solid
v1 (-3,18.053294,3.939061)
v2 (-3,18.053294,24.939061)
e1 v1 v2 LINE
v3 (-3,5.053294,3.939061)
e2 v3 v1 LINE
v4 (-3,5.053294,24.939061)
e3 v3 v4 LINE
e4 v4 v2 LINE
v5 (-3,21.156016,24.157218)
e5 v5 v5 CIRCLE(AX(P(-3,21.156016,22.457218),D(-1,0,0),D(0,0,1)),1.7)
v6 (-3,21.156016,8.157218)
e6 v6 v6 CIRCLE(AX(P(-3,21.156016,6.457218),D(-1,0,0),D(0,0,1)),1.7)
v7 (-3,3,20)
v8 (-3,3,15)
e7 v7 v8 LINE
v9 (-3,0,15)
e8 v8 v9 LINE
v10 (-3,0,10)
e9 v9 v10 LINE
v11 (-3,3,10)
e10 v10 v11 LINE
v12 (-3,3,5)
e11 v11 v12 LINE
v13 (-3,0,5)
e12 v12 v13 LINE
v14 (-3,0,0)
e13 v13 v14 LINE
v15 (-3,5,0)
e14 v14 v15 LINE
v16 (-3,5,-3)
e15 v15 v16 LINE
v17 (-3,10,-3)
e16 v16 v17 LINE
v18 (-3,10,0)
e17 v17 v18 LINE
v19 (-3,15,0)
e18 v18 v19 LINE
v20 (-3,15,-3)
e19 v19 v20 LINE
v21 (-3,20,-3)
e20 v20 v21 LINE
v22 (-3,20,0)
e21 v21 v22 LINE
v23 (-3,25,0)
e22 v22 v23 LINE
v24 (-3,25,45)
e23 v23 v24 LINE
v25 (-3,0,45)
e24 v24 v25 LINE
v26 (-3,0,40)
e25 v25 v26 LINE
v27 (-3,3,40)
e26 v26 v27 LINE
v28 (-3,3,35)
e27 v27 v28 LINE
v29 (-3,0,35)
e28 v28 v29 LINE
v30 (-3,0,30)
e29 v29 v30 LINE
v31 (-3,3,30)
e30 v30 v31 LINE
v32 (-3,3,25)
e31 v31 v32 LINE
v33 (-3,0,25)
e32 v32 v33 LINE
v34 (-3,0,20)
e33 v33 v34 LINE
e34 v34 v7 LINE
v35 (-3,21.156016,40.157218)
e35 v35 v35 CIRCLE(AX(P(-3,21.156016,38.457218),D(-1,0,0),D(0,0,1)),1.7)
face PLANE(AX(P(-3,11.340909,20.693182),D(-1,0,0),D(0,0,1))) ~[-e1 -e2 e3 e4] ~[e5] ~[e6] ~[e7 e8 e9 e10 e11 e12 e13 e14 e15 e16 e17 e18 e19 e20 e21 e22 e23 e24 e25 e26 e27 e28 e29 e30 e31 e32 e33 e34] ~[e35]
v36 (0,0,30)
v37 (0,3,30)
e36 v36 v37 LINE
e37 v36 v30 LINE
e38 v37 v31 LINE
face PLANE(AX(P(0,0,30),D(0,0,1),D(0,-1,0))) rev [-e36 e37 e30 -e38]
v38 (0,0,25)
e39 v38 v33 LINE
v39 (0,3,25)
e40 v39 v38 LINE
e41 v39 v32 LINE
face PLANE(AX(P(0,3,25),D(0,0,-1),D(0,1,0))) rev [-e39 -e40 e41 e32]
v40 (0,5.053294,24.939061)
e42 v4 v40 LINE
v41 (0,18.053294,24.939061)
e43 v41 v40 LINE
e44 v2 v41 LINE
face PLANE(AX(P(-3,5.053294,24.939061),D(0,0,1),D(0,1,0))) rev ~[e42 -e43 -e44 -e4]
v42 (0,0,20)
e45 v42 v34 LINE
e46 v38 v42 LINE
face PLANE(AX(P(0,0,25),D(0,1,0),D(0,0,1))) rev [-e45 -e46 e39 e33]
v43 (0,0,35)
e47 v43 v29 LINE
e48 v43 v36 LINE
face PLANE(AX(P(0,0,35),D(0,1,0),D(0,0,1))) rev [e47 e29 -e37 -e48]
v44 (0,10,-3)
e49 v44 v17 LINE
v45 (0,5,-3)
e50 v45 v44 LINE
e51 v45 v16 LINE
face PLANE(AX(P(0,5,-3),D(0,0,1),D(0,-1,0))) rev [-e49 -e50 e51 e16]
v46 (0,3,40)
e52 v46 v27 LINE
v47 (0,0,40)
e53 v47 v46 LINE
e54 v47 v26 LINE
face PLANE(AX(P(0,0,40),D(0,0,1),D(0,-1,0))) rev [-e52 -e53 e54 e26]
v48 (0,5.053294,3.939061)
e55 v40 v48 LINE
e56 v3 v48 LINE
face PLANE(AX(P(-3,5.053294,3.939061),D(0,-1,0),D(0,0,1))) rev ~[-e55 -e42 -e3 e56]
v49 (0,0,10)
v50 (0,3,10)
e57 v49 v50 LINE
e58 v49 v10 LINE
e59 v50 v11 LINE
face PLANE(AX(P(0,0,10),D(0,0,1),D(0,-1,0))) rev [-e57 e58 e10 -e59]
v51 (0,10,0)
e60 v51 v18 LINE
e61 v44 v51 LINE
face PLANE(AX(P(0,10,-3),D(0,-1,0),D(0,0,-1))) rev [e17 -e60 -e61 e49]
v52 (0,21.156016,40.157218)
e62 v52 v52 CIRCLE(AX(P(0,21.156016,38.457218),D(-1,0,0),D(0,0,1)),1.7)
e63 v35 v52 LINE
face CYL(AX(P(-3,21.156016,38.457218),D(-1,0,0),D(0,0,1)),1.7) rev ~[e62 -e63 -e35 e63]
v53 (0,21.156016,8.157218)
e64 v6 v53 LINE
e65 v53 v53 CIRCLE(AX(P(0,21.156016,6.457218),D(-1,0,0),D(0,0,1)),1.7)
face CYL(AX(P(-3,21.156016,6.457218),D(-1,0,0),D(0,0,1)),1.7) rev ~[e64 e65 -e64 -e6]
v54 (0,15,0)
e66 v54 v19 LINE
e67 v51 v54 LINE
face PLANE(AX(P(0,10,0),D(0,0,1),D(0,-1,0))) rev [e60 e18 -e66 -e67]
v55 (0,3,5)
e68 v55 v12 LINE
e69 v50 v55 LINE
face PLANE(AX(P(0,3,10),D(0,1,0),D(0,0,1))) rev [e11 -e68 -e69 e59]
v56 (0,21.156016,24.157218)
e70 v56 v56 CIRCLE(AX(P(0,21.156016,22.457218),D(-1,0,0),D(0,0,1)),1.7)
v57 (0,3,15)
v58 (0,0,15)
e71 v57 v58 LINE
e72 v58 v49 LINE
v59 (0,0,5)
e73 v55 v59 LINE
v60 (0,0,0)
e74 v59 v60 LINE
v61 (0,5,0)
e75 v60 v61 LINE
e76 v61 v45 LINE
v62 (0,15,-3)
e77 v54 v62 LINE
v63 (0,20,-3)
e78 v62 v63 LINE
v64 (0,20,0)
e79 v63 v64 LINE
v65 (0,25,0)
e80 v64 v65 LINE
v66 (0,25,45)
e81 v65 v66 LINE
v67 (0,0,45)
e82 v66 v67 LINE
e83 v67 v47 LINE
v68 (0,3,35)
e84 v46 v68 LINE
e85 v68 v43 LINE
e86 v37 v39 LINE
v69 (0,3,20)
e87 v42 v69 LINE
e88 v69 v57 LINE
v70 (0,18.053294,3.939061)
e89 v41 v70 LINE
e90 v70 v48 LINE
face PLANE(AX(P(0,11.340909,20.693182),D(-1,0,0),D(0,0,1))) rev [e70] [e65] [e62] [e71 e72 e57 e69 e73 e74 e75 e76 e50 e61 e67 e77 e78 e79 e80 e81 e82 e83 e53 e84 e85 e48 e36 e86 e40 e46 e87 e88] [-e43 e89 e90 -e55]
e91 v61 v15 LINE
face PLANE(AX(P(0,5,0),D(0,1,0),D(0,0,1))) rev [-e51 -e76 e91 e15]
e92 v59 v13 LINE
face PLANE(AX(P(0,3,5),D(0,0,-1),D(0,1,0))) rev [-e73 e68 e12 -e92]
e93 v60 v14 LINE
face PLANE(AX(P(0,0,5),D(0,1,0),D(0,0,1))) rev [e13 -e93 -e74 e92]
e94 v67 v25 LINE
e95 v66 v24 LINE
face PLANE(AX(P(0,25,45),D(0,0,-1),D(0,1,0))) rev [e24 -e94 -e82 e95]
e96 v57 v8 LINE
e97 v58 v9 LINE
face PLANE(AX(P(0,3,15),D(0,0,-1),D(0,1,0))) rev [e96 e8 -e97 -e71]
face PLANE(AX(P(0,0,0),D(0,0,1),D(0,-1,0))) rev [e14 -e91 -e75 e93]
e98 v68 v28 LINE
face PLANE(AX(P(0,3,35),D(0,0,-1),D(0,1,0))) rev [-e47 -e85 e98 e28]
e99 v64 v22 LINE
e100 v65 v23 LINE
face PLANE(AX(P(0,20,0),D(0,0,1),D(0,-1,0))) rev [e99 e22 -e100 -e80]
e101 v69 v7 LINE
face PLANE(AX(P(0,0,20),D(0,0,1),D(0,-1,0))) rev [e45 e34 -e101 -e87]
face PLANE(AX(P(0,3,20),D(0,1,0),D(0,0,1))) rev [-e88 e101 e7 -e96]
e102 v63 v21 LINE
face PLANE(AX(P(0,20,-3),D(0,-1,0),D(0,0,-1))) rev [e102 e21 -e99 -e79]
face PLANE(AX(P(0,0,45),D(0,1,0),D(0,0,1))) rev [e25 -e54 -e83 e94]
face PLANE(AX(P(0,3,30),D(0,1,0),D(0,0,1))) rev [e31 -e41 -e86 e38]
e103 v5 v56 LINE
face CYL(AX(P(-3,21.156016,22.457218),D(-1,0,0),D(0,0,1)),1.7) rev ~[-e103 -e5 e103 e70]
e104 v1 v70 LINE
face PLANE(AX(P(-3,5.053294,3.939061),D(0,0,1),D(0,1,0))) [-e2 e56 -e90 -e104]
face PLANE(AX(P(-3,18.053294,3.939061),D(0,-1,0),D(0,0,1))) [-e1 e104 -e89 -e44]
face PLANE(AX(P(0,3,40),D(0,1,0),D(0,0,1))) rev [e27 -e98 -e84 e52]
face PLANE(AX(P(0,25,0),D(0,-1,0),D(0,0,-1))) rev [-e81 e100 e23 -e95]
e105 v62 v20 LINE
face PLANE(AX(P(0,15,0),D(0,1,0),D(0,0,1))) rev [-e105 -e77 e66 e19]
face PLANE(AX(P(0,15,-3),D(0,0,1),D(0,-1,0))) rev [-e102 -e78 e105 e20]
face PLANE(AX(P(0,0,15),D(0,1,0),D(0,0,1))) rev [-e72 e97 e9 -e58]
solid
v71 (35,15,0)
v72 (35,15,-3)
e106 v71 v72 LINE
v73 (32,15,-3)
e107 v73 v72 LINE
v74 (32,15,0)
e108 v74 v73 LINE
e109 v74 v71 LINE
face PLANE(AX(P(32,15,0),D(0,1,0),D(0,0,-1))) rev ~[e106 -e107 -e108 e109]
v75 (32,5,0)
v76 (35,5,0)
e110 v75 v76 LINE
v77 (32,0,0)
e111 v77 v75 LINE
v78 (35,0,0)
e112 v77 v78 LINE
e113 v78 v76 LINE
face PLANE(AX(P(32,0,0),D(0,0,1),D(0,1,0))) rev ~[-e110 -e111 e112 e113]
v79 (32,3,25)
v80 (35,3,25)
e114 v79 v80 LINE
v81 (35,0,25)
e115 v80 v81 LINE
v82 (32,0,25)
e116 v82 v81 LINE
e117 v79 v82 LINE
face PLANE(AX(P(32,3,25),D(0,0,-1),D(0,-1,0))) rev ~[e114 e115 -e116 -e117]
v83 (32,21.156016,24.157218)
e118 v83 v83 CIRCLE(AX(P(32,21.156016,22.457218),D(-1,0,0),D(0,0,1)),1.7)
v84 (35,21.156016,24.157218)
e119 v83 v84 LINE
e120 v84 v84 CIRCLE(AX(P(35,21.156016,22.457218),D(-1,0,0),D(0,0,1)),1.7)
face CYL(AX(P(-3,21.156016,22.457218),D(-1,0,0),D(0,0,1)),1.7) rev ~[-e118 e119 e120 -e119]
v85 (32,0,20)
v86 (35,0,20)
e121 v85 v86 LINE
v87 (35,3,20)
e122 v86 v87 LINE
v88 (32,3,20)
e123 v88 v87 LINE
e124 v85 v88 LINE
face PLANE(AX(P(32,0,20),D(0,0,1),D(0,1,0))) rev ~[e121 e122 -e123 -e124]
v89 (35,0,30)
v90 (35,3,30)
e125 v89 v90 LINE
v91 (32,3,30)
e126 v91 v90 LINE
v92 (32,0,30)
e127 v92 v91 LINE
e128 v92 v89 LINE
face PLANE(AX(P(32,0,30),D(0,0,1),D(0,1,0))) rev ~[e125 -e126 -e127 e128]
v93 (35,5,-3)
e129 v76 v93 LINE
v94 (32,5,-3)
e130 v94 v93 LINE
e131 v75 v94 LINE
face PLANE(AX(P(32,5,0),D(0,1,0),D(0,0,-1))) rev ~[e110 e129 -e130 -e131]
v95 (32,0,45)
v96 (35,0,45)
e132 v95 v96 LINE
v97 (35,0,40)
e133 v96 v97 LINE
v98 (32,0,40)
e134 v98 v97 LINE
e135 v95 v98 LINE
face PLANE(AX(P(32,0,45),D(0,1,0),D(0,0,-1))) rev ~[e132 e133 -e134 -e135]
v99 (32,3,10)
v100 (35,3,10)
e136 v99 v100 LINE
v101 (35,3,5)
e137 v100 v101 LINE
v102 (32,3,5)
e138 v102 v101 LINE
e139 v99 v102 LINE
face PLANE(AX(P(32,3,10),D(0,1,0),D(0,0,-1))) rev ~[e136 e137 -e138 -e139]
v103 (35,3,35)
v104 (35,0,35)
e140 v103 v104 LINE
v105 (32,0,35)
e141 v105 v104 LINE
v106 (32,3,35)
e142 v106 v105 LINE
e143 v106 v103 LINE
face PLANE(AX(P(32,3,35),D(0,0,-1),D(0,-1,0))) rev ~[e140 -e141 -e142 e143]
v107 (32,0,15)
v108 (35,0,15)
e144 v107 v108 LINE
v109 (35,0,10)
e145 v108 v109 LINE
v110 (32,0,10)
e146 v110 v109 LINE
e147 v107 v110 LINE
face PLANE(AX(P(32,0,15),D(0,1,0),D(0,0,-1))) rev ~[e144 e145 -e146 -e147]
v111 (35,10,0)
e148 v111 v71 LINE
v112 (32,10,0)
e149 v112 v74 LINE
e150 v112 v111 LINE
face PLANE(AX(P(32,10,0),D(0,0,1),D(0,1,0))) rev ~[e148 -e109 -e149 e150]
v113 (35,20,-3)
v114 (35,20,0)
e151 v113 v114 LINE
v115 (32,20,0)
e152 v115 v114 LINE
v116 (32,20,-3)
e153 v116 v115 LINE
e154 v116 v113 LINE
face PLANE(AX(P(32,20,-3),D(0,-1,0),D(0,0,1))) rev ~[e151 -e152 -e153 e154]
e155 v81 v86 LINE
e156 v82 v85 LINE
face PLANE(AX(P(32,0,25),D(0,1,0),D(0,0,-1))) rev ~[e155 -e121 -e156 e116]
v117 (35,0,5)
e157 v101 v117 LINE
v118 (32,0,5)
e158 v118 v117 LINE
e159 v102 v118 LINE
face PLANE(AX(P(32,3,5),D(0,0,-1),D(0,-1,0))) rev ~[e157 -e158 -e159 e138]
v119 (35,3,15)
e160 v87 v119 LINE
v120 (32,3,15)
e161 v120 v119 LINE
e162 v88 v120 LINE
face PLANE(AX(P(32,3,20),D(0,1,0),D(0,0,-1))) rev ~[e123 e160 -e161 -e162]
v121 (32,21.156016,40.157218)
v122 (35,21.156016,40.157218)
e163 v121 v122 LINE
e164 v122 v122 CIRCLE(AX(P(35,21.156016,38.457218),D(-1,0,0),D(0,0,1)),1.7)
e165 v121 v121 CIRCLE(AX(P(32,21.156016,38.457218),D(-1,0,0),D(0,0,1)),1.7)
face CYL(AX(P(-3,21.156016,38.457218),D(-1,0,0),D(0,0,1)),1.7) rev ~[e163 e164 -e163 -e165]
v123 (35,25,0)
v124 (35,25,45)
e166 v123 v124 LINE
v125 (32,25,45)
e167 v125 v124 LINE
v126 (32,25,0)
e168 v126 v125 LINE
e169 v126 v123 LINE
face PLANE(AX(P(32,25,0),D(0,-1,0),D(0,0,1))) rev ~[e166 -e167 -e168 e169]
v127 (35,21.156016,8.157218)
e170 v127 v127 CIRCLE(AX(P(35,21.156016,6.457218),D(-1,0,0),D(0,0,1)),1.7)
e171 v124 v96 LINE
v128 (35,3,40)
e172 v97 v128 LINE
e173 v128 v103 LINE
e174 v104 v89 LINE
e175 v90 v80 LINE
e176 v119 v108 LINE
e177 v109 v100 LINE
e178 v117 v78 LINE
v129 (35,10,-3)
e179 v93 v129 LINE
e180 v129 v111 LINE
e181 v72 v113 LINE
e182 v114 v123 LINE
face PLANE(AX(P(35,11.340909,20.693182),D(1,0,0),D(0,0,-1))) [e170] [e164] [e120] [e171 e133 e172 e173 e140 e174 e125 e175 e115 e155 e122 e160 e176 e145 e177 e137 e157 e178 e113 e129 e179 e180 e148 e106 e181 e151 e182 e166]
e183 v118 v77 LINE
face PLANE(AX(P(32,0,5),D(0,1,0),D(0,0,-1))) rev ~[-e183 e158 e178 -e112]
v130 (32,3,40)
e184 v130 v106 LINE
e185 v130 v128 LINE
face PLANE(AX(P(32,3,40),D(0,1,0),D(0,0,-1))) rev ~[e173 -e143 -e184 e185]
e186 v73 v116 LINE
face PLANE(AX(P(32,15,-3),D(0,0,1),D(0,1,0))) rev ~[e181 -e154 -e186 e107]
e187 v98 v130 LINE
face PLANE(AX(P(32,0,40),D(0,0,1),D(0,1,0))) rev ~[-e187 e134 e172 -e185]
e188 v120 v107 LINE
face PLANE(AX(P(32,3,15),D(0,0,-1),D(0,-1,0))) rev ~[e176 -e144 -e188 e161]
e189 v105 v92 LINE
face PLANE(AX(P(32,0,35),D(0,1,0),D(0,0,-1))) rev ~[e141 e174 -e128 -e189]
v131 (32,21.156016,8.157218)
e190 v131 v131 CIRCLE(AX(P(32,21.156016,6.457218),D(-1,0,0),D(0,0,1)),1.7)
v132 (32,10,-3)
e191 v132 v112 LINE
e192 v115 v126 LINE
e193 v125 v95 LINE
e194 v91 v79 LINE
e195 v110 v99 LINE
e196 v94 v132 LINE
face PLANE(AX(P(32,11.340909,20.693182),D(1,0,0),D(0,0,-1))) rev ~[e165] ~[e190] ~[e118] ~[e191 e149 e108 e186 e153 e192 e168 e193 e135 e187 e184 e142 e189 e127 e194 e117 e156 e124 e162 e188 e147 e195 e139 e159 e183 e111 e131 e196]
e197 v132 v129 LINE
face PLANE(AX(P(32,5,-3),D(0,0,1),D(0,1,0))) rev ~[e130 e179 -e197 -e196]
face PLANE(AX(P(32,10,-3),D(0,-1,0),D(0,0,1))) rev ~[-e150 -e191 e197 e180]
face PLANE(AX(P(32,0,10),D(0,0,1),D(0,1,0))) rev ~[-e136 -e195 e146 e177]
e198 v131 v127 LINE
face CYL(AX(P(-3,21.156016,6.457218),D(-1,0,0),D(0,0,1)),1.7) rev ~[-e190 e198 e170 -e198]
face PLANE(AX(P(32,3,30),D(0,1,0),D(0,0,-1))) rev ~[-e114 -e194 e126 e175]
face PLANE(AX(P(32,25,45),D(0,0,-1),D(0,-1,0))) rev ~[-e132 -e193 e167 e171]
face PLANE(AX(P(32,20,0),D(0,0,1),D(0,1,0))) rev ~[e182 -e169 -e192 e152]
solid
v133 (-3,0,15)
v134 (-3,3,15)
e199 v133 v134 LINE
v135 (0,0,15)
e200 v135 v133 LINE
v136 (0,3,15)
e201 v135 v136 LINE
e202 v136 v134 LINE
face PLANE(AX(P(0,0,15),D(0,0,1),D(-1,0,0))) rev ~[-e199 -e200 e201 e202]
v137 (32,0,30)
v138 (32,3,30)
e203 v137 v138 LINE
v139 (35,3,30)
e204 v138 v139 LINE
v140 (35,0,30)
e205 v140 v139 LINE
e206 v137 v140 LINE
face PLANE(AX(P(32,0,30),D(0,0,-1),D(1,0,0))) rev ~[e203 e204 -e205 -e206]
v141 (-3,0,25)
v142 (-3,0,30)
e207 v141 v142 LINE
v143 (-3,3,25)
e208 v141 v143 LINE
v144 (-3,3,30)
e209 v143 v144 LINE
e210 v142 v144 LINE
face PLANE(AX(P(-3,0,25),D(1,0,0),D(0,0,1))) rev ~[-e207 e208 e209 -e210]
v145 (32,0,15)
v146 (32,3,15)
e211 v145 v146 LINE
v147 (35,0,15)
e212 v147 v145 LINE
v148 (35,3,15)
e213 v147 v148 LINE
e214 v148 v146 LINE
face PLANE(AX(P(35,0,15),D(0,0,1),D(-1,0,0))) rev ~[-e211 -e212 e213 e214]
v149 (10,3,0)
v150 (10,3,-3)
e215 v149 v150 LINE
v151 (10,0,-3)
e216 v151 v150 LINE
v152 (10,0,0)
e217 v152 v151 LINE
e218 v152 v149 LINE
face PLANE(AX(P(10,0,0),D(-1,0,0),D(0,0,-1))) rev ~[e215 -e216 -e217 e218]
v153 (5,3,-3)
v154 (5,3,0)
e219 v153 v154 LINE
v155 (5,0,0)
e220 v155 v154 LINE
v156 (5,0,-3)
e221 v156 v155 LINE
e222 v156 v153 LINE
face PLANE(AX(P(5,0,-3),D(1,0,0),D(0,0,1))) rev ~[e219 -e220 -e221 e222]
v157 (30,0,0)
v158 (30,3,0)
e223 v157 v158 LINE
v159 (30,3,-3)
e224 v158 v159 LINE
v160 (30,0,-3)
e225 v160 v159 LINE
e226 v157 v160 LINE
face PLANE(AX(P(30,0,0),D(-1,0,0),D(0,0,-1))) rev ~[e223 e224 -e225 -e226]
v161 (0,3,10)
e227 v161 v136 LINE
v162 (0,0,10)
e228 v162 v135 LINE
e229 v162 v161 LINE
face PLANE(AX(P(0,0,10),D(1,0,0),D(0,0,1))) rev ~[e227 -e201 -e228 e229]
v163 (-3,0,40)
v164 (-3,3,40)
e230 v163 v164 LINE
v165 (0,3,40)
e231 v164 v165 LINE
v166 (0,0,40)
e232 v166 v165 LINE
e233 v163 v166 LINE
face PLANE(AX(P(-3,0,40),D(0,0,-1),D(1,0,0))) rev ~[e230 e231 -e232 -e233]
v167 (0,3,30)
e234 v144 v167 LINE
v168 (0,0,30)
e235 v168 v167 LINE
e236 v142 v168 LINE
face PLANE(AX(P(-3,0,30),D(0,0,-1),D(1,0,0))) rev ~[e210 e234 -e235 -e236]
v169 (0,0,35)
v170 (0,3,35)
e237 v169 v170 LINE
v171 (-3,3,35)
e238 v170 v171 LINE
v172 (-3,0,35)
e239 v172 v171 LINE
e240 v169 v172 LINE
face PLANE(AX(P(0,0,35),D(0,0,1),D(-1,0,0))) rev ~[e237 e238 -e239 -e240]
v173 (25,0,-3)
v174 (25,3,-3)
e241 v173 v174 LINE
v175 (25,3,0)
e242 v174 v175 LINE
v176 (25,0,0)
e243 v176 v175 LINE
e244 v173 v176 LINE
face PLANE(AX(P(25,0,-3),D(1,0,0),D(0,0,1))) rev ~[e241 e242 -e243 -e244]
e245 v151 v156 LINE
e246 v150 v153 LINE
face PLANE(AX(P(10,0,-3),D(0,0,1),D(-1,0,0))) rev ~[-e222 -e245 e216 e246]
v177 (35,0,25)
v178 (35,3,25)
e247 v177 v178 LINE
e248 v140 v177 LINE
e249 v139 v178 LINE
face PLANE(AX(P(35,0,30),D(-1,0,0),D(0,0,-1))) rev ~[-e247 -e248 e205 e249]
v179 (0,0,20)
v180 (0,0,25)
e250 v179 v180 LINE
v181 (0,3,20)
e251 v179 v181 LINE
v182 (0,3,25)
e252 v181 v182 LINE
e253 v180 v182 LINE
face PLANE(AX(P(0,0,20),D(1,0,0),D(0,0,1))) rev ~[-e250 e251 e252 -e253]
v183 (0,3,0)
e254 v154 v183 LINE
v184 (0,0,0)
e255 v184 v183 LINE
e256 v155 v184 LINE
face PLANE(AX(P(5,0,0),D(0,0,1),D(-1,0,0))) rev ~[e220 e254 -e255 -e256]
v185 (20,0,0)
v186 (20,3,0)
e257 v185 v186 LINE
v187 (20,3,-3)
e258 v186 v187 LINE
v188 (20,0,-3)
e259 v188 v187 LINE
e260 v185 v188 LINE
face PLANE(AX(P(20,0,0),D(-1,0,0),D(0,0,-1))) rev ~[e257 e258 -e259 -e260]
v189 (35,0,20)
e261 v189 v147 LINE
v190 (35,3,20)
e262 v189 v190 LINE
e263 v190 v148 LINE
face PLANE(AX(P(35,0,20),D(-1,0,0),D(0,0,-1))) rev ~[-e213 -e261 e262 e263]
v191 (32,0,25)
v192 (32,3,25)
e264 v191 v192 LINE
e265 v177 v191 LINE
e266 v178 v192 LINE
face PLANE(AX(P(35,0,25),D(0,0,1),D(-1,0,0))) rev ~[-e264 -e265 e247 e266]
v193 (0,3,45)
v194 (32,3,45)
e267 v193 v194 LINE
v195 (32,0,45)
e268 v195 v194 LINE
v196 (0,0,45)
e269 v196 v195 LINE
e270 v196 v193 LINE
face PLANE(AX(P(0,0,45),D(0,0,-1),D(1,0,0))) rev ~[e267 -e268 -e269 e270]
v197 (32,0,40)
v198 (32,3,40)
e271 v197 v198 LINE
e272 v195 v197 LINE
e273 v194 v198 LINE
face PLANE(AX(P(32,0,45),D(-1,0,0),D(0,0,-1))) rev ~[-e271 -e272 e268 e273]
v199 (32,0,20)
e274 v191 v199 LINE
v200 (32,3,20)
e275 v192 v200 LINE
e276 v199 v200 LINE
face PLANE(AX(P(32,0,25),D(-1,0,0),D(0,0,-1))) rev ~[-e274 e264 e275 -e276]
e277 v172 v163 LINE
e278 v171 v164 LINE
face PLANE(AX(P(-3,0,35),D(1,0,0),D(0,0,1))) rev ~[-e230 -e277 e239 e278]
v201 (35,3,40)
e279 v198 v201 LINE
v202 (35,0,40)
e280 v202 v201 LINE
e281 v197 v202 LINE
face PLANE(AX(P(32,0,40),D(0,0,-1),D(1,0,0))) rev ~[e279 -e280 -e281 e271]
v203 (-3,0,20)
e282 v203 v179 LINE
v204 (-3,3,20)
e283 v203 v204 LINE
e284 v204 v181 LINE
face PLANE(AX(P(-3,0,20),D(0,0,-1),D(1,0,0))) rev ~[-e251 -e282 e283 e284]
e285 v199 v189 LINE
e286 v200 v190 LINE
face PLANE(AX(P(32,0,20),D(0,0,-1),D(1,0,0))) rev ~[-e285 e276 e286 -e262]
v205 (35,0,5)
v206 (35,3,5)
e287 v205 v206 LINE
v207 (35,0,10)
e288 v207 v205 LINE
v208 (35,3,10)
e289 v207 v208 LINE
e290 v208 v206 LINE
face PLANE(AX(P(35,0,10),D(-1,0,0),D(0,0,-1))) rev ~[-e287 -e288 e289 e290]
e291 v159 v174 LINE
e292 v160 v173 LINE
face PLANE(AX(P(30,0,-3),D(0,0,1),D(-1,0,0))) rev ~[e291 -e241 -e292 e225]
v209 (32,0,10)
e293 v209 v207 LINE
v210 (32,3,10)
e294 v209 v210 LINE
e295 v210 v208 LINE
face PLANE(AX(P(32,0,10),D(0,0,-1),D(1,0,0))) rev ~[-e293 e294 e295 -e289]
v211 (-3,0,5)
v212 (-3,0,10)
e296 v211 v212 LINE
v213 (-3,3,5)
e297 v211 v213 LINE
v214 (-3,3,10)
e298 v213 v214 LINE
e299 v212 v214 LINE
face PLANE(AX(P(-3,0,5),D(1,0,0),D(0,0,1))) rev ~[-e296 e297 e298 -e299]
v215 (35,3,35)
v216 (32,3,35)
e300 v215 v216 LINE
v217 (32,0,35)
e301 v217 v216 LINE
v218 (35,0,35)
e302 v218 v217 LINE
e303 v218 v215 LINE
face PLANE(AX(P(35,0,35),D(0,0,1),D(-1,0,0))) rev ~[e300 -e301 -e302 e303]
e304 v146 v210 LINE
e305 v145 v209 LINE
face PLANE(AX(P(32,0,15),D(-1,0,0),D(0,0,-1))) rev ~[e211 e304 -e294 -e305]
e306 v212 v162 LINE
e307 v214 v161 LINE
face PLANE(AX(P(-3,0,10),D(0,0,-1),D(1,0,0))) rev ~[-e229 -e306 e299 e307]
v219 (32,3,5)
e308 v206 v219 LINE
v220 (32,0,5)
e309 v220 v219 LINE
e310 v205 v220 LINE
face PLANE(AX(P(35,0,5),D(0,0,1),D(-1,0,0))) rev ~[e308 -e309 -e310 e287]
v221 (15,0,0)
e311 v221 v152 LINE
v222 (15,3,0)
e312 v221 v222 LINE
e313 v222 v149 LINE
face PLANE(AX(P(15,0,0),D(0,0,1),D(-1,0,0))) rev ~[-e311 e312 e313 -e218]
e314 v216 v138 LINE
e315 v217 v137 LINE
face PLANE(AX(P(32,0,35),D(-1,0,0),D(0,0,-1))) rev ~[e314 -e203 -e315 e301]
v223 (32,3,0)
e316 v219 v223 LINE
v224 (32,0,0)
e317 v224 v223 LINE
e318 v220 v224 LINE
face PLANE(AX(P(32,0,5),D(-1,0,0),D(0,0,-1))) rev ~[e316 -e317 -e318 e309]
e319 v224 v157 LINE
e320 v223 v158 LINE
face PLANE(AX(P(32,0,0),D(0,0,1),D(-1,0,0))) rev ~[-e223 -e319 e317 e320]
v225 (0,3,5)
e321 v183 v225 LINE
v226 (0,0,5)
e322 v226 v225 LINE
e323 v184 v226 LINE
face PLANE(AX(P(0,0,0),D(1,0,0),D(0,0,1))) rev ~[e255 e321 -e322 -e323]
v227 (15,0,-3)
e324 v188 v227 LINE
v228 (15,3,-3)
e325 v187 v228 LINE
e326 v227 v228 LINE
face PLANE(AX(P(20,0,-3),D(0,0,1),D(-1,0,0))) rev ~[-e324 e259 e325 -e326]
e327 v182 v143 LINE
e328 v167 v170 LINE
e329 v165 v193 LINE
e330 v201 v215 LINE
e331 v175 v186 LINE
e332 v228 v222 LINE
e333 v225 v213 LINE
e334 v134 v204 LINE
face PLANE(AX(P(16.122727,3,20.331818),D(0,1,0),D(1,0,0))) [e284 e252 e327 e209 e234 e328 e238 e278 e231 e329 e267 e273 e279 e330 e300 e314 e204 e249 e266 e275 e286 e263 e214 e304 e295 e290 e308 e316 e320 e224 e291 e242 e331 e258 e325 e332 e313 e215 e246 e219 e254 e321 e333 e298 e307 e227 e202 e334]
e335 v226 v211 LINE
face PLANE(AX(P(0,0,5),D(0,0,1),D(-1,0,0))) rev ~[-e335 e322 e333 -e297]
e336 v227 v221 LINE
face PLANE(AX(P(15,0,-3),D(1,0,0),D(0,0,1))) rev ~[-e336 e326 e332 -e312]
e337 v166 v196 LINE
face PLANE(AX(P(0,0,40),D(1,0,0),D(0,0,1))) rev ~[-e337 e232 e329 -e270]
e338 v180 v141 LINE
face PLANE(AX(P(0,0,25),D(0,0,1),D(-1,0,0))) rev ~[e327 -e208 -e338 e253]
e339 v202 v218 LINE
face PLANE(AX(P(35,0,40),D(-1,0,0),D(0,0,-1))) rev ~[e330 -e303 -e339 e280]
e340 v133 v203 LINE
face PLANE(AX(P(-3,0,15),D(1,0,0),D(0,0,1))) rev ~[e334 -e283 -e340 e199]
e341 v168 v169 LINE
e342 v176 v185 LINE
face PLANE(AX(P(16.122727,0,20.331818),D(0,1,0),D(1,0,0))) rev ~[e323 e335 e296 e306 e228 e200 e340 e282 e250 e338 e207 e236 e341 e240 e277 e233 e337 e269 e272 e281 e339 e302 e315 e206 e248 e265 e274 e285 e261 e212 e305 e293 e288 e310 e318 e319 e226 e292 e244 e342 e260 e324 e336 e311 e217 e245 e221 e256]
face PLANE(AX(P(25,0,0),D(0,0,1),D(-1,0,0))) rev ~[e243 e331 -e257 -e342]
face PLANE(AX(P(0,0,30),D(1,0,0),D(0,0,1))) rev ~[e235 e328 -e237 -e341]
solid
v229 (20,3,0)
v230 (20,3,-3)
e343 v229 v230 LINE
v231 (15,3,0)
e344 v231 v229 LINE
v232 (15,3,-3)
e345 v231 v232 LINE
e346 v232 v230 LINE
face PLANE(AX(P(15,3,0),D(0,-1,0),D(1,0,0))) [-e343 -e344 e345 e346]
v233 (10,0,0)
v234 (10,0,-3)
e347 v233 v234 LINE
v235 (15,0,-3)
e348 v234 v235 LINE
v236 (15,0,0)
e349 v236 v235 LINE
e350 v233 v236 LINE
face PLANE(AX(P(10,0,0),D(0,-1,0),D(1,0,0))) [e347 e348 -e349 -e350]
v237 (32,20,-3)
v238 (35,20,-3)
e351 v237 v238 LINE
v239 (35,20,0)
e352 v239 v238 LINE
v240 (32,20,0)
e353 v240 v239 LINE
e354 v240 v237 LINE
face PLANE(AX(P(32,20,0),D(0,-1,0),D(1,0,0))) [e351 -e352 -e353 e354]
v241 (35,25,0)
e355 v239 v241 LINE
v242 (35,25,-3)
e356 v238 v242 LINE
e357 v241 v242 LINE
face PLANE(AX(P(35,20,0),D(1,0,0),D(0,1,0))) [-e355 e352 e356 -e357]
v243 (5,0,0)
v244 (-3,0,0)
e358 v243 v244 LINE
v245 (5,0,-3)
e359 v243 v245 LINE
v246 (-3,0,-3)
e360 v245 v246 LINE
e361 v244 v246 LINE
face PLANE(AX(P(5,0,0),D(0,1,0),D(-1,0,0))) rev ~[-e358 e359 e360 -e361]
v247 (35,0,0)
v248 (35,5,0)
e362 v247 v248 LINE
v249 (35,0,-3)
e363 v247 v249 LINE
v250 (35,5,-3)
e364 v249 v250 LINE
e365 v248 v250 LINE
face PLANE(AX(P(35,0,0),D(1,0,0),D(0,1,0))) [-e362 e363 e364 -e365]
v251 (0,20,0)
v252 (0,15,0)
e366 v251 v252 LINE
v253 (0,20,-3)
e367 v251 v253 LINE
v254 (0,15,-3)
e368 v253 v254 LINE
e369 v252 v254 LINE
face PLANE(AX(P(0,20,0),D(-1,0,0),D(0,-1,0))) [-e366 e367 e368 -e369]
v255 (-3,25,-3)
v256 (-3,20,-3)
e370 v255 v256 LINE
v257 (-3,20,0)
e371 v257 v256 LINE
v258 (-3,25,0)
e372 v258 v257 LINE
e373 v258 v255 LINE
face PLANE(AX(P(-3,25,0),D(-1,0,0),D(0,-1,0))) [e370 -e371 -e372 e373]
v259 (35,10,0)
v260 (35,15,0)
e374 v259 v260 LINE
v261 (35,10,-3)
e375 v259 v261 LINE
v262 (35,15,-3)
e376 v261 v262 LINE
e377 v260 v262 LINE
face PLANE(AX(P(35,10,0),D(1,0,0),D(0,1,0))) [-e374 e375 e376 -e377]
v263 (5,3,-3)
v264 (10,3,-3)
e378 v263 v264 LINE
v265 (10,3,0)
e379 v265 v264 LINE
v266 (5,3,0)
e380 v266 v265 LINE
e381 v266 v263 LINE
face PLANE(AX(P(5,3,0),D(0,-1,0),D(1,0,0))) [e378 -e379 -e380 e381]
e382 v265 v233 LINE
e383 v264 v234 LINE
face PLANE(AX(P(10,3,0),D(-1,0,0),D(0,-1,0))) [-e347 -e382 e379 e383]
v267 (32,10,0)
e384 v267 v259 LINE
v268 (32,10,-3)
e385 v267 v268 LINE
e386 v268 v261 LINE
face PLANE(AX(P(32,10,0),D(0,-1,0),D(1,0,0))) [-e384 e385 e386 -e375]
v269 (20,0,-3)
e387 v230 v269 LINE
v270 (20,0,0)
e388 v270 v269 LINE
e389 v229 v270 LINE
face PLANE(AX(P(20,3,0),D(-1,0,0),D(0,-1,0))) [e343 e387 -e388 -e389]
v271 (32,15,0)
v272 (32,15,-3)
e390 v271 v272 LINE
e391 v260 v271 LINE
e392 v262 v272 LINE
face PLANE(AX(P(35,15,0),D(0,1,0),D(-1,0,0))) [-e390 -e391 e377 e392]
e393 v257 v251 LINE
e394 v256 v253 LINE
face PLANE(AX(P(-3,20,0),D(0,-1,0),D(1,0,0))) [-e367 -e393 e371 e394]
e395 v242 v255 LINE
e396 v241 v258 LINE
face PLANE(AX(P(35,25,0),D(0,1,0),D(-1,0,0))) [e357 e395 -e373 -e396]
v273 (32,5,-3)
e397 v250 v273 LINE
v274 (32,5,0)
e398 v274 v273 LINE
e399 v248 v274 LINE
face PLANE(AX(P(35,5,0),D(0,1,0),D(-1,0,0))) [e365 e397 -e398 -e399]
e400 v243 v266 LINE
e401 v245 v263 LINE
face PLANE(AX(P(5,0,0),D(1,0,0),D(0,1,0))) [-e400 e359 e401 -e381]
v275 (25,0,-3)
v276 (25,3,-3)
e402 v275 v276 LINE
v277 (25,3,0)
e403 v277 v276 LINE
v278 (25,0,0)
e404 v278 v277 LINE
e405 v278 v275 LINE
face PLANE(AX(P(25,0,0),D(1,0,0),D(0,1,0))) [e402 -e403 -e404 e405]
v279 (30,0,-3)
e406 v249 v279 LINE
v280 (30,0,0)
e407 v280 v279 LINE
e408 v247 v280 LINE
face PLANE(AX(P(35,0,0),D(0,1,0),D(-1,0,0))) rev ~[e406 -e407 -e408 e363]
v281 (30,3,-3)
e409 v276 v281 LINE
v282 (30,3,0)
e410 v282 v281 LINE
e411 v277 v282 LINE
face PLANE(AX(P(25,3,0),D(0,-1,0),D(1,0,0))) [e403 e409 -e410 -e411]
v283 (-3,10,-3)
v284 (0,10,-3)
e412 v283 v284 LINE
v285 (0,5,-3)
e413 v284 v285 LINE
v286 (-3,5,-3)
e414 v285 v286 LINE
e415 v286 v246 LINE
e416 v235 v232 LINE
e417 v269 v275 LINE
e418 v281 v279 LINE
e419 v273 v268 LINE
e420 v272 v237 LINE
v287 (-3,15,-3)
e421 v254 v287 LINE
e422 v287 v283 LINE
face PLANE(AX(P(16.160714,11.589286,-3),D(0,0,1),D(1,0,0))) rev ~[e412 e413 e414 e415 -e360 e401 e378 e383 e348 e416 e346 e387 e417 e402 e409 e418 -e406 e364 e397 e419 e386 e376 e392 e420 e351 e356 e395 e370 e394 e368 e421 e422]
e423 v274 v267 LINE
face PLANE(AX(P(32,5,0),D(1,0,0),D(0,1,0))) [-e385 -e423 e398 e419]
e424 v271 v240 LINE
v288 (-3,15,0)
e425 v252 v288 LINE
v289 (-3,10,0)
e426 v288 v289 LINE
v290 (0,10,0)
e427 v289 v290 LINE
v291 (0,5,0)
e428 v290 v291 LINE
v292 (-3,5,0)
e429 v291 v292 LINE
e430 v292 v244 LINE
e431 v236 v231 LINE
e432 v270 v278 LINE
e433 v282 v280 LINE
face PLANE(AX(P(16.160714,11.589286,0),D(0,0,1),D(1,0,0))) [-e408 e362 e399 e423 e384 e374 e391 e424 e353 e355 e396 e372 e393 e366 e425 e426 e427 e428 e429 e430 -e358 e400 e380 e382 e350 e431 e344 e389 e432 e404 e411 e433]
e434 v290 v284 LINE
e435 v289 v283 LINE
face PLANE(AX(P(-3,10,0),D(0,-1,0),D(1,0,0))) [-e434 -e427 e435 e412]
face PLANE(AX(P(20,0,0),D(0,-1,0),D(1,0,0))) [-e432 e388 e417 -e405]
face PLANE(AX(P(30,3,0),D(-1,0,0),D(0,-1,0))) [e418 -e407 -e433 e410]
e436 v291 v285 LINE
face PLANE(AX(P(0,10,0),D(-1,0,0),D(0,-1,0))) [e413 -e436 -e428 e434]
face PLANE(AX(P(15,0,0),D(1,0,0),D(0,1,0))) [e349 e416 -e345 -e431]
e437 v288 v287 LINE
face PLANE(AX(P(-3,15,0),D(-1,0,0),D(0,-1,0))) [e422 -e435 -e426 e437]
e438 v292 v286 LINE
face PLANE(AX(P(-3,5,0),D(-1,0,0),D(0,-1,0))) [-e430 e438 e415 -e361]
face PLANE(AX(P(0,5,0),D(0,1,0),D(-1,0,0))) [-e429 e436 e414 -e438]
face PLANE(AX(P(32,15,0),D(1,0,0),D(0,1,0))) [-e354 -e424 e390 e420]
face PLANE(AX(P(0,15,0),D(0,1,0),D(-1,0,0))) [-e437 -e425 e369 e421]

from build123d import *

# Parameters (mm, degrees)
BOSS_EXTRUDE1_DEPTH = 3
BOSS_EXTRUDE2_DEPTH = 3
BOSS_EXTRUDE3_DEPTH = 3
SKETCH6_R           = 1.7
CUT_EXTRUDE1_DEPTH  = 44
SKETCH8_W           = 21
SKETCH8_H           = 13
CUT_EXTRUDE2_DEPTH  = 5


with BuildPart() as part:
    # Sketch1 → Boss-Extrude1 (new body)
    with BuildSketch(Plane(origin=(0, 0, 0), x_dir=(1, 0, 0), z_dir=(0, 1, 0))):
        Polygon((2, 0), (0, 0), (0, -5), (-3, -5), (-3, -10), (0, -10), (0, -15), (-3, -15), (-3, -20), (0, -20), (0, -25), (-3, -25), (-3, -30), (0, -30), (0, -35), (-3, -35), (-3, -40), (0, -40), (0, -45), (32, -45), (32, -40), (35, -40), (35, -35), (32, -35), (32, -30), (35, -30), (35, -25), (32, -25), (32, -20), (35, -20), (35, -15), (32, -15), (32, -10), (35, -10), (35, -5), (32, -5), (32, 0), (30, 0), (30, 3), (25, 3), (25, 0), (20, 0), (20, 3), (15, 3), (15, 0), (10, 0), (10, 3), (5, 3), (5, 0), align=None)
    extrude(amount=BOSS_EXTRUDE1_DEPTH)


with BuildPart() as body_2:
    # Sketch4 → Boss-Extrude2 (new body)
    with BuildSketch(Plane(origin=(32, 0, 0), x_dir=(0, 0, -1), z_dir=(1, 0, 0))):
        Polygon((-5, 3), (-5, 0), (0, 0), (0, 3), (0, 5), (3, 5), (3, 10), (0, 10), (0, 15), (3, 15), (3, 20), (0, 20), (0, 25), (-45, 25), (-45, 3), (-45, 0), (-40, 0), (-40, 3), (-35, 3), (-35, 0), (-30, 0), (-30, 3), (-25, 3), (-25, 0), (-20, 0), (-20, 3), (-15, 3), (-15, 0), (-10, 0), (-10, 3), align=None)
    extrude(amount=BOSS_EXTRUDE2_DEPTH)


with BuildPart() as body_3:
    # Mirror1: mirrored copy
    add(body_2.part.mirror(Plane.ZY.offset(-16)))


with BuildPart() as body_4:
    # Sketch5 → Boss-Extrude3 (new body)
    with BuildSketch(Plane(origin=(0, 0, 0), x_dir=(-1, 0, 0), z_dir=(0, 0, -1))):
        Polygon((-35, 25), (3, 25), (3, 20), (0, 20), (0, 15), (3, 15), (3, 10), (0, 10), (0, 5), (3, 5), (3, 0), (0, 0), (-5, 0), (-5, 3), (-10, 3), (-10, 0), (-15, 0), (-15, 3), (-20, 3), (-20, 0), (-25, 0), (-25, 3), (-30, 3), (-30, 0), (-32, 0), (-35, 0), (-35, 5), (-32, 5), (-32, 10), (-35, 10), (-35, 15), (-32, 15), (-32, 20), (-35, 20), align=None)
    extrude(amount=BOSS_EXTRUDE3_DEPTH)


with BuildPart() as cut_extrude1_tool:
    # Sketch6 → Cut-Extrude1 (new body)
    with BuildSketch(Plane.ZY.offset(3)):
        with Locations((6.457218302, 21.156015904)):
            Circle(SKETCH6_R)
        with Locations((22.457218302, 21.156015904)):
            Circle(SKETCH6_R)
        with Locations((38.457218302, 21.156015904)):
            Circle(SKETCH6_R)
    extrude(amount=-CUT_EXTRUDE1_DEPTH)


with BuildPart() as body_2_1:
    add(body_2.part)

    # Cut-Extrude1: cut by cut_extrude1_tool
    add(cut_extrude1_tool.part, mode=Mode.SUBTRACT)


with BuildPart() as body_3_1:
    add(body_3.part)

    # Cut-Extrude1: cut by cut_extrude1_tool
    add(cut_extrude1_tool.part, mode=Mode.SUBTRACT)

    # Sketch8 → Cut-Extrude2 (cut)
    with BuildSketch(Plane.ZY.offset(3)):
        with Locations((14.439060658, 11.55329355)):
            Rectangle(SKETCH8_W, SKETCH8_H)
    extrude(amount=-CUT_EXTRUDE2_DEPTH, mode=Mode.SUBTRACT)


solid = Compound([part.part, body_4.part, body_2_1.part, body_3_1.part])
